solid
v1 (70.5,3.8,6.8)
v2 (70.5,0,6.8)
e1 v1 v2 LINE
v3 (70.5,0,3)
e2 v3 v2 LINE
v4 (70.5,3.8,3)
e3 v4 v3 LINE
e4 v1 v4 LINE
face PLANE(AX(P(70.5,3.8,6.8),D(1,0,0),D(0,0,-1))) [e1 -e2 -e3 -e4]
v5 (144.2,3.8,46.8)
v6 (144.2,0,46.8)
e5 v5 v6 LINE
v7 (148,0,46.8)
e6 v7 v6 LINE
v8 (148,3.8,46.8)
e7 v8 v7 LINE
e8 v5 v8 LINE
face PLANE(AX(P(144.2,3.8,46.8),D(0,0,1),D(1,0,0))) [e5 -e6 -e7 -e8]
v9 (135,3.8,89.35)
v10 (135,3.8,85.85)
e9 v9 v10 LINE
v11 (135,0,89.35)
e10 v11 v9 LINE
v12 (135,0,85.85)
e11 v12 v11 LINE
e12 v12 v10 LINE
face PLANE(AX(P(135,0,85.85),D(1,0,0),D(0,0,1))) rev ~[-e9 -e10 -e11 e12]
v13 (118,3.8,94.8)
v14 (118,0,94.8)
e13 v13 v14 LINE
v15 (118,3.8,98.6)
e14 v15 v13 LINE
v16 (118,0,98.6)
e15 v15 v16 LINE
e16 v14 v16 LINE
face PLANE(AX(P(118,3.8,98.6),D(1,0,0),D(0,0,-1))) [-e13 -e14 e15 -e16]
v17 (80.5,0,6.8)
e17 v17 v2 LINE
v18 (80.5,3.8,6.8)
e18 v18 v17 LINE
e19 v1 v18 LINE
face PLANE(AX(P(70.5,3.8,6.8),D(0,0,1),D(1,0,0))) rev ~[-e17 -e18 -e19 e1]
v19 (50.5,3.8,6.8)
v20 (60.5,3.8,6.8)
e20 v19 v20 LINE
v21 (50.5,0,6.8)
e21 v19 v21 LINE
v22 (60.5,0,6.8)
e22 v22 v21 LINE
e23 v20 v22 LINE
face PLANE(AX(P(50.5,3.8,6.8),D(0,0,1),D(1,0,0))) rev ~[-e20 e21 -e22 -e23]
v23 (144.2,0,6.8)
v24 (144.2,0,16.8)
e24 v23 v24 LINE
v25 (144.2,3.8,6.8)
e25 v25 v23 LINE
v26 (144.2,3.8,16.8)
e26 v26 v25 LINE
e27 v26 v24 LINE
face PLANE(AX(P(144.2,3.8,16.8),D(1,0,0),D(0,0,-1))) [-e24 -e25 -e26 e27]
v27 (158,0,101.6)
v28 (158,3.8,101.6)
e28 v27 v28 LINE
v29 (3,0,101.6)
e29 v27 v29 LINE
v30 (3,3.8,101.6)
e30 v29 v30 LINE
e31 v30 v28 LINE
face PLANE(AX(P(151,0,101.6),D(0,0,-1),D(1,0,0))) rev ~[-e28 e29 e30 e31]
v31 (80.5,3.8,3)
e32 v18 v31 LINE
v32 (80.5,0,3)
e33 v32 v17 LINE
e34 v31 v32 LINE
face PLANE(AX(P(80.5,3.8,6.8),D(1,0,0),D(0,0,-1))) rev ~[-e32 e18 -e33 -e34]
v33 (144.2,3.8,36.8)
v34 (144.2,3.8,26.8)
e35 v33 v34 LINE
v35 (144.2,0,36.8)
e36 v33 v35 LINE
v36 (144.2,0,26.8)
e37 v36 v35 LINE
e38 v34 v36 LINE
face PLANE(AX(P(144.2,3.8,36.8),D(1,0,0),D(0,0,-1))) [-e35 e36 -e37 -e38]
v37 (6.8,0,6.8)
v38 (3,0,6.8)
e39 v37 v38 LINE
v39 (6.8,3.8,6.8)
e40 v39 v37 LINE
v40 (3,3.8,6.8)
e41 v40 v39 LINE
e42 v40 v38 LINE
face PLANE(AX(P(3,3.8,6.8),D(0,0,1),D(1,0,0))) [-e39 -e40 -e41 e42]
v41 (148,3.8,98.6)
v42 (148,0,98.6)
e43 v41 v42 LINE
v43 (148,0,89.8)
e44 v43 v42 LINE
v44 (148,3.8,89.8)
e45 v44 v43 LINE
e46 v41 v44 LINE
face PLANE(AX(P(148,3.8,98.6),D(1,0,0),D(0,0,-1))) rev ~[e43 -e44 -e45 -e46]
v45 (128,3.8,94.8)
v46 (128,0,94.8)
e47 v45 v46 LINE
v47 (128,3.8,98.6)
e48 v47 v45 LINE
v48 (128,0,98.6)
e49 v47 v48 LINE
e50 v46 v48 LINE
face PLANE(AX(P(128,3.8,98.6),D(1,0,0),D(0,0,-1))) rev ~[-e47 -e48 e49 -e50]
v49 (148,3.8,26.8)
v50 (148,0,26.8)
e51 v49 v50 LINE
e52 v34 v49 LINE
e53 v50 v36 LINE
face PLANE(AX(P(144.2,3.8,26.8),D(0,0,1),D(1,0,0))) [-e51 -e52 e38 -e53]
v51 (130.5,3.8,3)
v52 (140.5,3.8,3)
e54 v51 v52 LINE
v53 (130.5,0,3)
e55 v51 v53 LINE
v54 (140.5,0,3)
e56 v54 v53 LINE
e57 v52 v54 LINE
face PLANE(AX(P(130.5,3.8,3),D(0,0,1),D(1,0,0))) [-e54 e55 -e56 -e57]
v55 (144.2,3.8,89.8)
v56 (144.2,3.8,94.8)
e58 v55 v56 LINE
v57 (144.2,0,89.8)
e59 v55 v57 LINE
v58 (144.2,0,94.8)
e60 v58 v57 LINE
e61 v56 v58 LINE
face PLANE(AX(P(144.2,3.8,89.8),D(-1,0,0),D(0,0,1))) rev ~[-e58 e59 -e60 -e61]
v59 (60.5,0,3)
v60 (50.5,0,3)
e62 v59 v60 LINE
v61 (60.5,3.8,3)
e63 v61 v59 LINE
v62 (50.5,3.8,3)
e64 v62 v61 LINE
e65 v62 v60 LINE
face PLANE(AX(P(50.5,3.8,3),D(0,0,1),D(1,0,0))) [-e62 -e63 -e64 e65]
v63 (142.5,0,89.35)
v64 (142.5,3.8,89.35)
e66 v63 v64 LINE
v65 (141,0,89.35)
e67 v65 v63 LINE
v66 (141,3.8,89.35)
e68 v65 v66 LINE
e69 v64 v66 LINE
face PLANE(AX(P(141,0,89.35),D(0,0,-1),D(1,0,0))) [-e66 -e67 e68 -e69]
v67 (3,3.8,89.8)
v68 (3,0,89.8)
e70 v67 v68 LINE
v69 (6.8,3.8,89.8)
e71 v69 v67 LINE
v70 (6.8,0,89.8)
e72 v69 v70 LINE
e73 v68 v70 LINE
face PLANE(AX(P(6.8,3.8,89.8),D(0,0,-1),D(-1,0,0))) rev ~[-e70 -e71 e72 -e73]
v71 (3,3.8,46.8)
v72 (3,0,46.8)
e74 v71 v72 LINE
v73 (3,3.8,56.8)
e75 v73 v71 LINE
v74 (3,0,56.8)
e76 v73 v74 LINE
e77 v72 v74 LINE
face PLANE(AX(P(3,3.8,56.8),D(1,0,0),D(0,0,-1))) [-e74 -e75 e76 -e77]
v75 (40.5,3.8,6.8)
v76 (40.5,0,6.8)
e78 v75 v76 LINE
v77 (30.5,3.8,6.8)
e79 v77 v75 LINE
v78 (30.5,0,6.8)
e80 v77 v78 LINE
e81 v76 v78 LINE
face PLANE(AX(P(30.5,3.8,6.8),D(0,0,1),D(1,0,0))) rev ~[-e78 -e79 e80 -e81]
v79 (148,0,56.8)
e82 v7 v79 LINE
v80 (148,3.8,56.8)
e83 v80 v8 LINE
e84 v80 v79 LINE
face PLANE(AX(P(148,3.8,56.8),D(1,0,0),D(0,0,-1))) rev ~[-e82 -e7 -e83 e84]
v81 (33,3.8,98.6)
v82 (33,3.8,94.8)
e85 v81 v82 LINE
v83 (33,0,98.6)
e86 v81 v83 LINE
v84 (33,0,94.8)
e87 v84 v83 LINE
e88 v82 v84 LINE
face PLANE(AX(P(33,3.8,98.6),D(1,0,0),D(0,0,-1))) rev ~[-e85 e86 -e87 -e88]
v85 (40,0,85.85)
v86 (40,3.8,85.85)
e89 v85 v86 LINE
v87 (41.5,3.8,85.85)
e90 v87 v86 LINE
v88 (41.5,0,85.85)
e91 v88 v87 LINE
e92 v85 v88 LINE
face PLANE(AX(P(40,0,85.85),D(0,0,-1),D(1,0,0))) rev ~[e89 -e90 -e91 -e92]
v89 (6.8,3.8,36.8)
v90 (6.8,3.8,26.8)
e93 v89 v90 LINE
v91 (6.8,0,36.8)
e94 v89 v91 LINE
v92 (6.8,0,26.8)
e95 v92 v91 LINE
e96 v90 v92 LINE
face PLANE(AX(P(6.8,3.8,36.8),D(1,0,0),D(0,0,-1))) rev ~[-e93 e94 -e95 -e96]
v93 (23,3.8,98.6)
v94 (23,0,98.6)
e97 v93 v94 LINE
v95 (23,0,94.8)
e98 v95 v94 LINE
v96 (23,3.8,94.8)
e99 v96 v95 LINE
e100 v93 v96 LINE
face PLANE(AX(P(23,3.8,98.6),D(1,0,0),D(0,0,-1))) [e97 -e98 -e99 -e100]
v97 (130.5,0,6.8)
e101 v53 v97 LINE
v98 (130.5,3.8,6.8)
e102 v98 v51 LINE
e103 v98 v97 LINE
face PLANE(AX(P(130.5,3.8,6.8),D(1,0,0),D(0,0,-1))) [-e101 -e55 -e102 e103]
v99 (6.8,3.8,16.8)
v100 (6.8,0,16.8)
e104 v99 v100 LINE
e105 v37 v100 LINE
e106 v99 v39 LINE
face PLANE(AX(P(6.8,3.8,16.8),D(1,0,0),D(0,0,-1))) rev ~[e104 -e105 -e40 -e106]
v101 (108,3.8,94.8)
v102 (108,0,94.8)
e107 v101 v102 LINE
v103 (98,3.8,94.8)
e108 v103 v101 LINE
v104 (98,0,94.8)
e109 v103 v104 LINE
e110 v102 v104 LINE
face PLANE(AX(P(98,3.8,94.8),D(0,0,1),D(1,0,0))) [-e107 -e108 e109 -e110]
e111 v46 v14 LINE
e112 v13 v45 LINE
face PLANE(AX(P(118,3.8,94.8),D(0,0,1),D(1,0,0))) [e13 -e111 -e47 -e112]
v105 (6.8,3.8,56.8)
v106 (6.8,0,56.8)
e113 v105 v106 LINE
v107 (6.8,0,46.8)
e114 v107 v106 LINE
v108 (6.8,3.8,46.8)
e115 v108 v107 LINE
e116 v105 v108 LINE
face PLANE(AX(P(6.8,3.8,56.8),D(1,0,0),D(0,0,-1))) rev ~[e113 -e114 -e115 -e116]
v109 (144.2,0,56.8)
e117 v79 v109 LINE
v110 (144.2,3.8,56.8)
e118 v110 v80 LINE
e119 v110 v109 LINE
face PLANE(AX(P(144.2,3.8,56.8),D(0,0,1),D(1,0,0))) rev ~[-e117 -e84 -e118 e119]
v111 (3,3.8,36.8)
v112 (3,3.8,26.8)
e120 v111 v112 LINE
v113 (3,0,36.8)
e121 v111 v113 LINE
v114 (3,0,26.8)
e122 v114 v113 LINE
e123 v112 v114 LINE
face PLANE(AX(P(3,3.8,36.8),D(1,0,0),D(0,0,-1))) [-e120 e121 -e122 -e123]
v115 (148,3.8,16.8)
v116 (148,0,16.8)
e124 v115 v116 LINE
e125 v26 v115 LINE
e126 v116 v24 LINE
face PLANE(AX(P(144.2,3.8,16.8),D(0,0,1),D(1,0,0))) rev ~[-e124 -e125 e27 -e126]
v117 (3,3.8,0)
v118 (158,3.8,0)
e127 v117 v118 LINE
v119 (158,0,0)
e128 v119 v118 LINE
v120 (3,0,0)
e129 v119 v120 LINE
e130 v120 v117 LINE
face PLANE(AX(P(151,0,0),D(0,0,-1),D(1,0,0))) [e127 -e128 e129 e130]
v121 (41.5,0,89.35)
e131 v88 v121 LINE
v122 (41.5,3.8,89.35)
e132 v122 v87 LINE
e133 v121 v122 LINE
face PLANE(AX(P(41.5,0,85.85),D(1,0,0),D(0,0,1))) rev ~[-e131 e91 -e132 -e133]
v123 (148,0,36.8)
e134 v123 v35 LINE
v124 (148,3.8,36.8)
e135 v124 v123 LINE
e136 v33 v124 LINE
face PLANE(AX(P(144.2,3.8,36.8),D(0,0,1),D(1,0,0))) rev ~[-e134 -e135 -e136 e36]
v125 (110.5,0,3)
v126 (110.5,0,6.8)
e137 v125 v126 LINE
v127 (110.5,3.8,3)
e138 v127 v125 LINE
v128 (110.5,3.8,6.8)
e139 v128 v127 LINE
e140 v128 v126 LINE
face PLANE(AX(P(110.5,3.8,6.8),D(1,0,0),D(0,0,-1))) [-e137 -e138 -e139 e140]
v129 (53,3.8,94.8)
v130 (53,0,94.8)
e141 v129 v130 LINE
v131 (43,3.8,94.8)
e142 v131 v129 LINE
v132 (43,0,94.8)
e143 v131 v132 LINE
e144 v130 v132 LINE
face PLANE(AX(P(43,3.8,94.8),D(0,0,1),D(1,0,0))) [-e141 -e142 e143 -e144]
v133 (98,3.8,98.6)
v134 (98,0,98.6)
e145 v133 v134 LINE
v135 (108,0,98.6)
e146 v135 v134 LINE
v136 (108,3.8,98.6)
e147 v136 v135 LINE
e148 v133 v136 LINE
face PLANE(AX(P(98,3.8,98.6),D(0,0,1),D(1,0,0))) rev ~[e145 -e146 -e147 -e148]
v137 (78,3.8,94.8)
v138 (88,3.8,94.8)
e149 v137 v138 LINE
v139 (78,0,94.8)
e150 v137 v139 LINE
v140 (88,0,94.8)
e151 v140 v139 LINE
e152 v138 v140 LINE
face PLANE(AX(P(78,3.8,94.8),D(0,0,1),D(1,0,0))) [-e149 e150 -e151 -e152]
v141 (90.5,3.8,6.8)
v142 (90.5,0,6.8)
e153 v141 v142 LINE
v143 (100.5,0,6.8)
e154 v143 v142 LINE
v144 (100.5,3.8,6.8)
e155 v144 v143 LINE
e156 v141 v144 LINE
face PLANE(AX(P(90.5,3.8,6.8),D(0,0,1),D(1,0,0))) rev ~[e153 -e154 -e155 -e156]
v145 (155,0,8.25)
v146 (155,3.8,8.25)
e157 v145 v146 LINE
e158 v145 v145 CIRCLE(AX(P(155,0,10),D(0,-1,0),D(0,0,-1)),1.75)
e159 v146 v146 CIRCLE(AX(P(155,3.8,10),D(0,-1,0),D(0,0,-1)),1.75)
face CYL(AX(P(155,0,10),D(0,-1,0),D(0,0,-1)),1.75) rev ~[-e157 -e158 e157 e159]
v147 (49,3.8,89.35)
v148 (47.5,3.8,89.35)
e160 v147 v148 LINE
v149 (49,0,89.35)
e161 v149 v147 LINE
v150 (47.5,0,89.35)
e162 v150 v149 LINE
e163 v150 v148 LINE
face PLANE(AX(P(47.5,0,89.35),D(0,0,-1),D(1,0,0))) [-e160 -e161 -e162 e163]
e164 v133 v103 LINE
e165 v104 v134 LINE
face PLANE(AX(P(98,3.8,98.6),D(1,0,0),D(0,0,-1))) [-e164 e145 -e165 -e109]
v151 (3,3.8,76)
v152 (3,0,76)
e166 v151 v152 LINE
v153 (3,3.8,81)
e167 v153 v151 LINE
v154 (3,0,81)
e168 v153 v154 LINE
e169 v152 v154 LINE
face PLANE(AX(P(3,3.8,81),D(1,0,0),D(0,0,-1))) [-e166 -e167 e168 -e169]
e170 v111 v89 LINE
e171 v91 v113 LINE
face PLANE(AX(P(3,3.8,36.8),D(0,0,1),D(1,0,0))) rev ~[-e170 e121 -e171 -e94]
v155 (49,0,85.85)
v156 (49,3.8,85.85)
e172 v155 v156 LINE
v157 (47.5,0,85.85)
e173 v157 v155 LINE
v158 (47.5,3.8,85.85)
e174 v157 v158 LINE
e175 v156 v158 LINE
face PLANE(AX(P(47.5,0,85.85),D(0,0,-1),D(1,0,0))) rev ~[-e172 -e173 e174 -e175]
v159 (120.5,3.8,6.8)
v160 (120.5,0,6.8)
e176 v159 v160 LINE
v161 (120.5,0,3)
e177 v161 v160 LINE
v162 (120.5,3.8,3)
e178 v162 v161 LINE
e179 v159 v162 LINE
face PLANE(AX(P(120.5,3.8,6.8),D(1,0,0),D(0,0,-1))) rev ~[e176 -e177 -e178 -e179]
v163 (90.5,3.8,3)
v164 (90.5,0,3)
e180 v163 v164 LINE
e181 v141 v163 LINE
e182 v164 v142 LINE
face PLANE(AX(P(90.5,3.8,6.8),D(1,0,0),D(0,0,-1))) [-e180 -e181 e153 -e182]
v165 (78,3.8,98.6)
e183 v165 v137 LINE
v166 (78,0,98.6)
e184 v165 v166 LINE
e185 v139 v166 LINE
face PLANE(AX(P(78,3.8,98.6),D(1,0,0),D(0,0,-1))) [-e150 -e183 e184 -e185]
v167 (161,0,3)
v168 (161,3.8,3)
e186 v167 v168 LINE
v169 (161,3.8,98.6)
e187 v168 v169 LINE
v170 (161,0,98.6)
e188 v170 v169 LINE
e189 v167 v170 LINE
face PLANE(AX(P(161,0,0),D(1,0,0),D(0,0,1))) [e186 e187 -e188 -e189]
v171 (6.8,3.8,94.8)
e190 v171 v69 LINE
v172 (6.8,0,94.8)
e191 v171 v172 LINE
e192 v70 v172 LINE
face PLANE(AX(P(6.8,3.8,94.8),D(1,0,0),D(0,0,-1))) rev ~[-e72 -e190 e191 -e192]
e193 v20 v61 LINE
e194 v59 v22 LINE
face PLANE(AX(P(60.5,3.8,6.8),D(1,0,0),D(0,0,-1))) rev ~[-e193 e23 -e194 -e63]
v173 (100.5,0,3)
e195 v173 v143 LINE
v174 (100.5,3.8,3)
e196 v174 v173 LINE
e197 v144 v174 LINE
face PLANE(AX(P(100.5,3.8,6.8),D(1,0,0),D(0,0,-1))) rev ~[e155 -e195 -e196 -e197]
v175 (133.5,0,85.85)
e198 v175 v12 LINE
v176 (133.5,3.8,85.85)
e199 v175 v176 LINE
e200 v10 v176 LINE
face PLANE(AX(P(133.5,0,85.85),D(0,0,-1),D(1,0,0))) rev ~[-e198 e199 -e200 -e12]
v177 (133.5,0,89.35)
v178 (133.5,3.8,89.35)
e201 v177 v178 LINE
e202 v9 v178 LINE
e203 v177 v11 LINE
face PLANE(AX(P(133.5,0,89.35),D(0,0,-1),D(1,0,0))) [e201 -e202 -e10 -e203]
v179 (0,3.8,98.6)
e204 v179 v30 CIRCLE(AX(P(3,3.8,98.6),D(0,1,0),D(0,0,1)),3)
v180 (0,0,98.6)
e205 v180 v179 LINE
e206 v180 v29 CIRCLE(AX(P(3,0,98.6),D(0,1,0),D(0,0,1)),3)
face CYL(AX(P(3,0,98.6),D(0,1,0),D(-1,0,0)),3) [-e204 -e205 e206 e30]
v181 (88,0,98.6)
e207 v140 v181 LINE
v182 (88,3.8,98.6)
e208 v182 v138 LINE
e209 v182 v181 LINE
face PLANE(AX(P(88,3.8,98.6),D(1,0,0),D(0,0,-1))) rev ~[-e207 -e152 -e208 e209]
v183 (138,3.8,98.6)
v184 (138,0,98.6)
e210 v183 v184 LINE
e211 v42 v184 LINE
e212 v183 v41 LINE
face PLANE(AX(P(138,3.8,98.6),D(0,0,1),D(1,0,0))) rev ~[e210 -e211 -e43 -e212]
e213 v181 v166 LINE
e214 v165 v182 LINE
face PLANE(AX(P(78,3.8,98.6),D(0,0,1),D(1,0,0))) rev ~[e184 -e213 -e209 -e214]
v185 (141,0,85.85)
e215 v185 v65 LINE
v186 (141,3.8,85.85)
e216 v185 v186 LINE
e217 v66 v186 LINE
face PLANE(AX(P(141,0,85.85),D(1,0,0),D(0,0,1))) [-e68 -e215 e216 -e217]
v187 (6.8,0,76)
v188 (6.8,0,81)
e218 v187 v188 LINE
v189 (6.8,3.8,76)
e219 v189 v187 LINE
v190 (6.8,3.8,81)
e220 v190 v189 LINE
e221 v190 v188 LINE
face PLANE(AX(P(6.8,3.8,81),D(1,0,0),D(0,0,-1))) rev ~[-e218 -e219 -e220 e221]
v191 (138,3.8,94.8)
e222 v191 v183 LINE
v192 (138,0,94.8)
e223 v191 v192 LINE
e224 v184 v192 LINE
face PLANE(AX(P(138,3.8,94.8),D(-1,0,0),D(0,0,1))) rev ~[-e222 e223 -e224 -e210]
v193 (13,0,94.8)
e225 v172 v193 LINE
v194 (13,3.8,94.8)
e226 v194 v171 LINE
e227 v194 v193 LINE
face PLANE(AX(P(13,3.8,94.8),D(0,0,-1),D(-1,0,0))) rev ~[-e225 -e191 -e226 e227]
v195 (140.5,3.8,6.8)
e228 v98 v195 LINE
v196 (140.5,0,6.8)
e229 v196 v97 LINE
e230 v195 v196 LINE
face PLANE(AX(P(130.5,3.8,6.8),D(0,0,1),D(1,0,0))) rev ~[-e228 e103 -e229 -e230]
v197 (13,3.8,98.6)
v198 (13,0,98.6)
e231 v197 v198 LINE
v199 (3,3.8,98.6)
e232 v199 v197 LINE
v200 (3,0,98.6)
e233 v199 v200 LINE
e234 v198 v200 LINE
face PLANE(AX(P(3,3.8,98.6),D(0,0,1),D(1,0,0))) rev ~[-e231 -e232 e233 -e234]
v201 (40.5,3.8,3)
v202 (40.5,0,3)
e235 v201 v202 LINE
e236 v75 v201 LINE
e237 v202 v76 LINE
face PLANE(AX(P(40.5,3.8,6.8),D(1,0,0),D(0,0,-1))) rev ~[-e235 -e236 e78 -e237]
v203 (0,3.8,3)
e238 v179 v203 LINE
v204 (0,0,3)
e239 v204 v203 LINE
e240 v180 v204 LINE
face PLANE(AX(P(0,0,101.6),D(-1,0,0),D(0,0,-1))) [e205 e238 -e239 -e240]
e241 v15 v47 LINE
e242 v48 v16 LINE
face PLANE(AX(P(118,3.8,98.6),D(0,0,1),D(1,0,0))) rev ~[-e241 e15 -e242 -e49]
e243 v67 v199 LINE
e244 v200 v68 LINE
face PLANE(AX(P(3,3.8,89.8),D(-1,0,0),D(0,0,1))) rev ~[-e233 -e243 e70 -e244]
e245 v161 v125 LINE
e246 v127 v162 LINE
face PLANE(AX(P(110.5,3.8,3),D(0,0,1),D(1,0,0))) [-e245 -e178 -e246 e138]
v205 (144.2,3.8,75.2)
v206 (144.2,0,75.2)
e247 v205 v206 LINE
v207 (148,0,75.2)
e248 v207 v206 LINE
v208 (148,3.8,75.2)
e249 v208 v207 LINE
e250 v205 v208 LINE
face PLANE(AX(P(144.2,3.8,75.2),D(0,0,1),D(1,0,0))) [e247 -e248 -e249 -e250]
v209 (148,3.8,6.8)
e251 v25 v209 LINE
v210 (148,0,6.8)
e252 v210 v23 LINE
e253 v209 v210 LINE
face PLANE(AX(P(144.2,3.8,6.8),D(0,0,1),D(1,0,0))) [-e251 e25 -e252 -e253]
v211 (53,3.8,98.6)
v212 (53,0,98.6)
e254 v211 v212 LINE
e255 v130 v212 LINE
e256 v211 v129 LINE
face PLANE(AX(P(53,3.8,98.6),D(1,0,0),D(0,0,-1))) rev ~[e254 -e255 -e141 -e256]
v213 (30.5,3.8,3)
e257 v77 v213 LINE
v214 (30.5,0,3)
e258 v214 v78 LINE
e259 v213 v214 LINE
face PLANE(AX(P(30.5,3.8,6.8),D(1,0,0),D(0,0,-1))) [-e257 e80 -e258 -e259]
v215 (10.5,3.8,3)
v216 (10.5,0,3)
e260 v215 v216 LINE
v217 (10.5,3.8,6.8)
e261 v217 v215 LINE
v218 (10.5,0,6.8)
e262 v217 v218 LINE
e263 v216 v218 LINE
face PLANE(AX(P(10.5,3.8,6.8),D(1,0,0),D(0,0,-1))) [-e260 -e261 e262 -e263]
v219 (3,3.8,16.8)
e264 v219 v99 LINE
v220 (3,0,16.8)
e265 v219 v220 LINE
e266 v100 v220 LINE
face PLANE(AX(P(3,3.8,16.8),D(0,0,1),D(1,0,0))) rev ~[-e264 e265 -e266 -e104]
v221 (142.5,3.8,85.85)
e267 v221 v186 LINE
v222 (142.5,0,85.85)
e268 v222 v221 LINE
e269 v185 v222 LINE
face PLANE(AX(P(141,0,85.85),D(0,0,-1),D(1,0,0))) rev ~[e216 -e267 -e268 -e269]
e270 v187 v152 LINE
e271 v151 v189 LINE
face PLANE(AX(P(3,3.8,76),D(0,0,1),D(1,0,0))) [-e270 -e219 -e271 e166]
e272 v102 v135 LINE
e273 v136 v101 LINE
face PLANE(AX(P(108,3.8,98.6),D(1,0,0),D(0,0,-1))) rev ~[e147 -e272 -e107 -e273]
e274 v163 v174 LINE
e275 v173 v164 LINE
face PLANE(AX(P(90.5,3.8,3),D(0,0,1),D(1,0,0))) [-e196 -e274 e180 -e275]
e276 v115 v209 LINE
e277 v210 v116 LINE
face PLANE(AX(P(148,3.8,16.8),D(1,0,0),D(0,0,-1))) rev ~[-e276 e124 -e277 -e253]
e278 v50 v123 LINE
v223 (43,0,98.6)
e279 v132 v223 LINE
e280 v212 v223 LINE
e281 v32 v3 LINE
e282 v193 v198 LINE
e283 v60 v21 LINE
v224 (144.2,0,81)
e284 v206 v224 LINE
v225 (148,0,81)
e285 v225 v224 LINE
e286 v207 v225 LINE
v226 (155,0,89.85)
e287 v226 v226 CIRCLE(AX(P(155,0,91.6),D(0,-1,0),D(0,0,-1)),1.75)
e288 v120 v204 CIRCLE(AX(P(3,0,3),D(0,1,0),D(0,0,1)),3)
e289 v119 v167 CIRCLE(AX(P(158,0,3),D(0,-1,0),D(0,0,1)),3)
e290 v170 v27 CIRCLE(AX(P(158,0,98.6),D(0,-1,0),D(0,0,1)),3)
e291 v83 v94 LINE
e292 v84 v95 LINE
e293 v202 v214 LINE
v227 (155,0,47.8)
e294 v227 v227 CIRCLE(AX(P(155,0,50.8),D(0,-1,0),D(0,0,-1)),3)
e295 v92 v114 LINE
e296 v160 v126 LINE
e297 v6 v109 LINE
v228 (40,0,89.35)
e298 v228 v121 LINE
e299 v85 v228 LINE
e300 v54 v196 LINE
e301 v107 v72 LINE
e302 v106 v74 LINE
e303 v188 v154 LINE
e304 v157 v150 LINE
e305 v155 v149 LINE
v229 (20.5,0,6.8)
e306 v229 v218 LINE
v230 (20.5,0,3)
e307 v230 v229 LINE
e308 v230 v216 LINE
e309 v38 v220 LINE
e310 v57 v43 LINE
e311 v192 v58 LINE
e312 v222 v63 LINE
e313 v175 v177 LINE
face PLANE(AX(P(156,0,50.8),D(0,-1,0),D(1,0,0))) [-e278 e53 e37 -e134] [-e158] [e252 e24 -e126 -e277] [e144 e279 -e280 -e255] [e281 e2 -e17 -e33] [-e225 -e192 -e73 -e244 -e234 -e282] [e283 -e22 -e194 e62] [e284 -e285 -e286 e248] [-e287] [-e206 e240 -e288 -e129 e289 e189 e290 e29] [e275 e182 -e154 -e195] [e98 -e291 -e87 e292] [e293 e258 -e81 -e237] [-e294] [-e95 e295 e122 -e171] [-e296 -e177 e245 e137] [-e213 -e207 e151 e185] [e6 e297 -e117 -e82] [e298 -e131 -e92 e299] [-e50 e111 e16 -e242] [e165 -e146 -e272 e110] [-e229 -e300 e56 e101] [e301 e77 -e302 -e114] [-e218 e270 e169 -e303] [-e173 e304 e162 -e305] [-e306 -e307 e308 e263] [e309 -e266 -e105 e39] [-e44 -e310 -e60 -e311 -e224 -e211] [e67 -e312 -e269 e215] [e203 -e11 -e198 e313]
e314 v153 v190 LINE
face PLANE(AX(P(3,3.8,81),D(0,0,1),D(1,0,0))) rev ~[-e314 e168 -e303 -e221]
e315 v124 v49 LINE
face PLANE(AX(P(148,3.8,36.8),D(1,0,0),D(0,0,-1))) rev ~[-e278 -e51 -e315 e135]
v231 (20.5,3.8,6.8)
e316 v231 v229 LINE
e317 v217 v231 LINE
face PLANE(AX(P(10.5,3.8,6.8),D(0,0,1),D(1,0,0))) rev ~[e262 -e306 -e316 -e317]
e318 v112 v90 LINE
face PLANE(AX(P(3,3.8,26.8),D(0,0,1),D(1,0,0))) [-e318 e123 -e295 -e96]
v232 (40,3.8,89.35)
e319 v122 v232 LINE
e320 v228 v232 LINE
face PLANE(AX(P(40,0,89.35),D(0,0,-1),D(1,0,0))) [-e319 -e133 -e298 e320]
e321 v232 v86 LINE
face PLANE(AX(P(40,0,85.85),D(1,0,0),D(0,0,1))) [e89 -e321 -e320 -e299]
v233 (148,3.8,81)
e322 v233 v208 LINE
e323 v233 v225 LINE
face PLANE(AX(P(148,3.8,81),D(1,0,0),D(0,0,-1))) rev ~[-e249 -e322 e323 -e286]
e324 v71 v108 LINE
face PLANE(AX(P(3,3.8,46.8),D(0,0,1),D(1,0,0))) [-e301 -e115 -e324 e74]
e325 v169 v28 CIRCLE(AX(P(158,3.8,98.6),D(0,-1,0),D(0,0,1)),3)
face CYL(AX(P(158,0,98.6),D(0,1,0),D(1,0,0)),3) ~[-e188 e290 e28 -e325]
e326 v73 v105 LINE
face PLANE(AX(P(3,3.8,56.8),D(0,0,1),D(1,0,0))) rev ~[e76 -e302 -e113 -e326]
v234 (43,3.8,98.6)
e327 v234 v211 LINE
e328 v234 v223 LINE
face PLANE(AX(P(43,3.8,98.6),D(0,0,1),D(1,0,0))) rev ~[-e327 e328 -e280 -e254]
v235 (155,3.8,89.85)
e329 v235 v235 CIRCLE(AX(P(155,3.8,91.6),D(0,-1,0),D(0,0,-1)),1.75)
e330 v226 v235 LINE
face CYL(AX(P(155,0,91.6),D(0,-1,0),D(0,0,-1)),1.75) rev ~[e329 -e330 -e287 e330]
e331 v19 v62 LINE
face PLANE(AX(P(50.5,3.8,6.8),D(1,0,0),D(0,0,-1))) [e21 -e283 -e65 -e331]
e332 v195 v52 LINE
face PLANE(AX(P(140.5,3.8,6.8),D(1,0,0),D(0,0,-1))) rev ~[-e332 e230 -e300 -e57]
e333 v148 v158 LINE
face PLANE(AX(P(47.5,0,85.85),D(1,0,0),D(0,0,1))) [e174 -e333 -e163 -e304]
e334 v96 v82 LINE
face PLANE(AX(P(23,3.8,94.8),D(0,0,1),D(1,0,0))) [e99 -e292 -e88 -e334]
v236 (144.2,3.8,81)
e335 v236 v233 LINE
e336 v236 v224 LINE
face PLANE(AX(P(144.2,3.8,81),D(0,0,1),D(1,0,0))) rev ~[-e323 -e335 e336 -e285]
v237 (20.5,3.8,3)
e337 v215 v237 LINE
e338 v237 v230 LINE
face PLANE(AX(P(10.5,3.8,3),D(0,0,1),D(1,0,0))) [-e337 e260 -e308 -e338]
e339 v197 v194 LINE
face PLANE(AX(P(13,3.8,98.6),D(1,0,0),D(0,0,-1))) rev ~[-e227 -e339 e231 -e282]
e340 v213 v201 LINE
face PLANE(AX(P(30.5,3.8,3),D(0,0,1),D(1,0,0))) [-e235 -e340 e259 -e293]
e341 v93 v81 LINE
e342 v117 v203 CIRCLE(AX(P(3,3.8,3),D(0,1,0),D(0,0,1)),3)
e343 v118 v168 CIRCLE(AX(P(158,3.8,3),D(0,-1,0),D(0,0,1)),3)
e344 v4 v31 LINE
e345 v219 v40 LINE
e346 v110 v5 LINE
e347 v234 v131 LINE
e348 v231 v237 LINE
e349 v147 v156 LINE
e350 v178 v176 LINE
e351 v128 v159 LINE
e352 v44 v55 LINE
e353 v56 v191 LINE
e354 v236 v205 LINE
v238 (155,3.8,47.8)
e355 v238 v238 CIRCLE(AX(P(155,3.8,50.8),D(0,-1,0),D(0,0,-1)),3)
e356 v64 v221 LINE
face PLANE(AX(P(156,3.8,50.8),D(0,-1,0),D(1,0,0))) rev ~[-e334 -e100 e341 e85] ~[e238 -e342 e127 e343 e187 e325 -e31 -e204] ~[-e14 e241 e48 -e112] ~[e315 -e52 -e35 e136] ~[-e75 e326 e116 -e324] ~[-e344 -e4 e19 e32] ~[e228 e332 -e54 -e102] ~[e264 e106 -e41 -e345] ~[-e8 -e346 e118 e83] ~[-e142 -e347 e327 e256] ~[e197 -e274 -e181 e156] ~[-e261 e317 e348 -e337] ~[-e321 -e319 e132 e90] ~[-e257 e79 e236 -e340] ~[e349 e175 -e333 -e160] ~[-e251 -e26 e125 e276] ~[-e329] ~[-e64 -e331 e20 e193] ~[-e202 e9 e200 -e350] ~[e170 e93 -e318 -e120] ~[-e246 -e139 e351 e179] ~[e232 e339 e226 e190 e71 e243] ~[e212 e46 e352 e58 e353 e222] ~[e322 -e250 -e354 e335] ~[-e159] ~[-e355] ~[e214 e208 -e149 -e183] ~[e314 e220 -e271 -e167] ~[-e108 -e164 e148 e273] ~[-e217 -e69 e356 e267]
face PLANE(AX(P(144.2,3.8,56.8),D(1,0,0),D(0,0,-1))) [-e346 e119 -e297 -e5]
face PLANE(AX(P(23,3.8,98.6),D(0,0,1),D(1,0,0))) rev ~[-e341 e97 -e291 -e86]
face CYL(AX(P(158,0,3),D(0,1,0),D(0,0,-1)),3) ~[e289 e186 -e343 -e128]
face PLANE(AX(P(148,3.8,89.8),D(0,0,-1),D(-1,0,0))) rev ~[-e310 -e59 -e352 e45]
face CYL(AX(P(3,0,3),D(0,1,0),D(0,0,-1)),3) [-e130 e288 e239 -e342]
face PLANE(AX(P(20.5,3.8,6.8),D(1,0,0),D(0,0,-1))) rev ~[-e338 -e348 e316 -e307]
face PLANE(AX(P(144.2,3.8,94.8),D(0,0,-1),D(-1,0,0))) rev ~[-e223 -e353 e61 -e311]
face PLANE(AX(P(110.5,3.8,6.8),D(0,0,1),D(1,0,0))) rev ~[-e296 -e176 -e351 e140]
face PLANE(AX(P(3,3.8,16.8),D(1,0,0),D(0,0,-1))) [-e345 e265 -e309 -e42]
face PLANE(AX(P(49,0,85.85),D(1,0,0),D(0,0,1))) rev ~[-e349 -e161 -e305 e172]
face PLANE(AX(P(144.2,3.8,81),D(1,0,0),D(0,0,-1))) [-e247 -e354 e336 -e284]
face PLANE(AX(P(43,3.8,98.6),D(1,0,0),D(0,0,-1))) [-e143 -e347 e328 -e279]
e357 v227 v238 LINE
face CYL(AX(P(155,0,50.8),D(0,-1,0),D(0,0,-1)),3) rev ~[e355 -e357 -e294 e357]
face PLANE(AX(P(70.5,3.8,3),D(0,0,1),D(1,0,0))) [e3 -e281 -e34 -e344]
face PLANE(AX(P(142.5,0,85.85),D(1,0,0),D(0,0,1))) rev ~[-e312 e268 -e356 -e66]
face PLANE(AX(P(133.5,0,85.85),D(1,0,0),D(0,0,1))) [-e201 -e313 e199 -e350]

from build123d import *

# Parameters (mm, degrees)
SKETCH1_W           = 151
SKETCH1_H           = 101.6
BOSS_EXTRUDE1_DEPTH = 3.8
SKETCH3_W           = 1.5
SKETCH3_H           = 3.5
CUT_EXTRUDE1_DEPTH  = 183.038457475
SKETCH4_W           = 10
SKETCH4_H           = 101.6
BOSS_EXTRUDE2_DEPTH = 3.8
SKETCH5_R           = 3
SKETCH5_R_2         = 1.75
CUT_EXTRUDE2_DEPTH  = 191.415335517
FILLET1_R           = 3
FILLET2_R           = 3
SKETCH6_W           = 3.8
SKETCH6_H           = 5.8
SKETCH6_H_2         = 10
SKETCH6_W_2         = 10
SKETCH6_H_3         = 3.8
SKETCH6_H_4         = 5
CUT_EXTRUDE3_DEPTH  = 191.415335517


with BuildPart() as part:
    # Sketch1 → Boss-Extrude1 (new body)
    with BuildSketch(Plane(origin=(0, 0, 0), x_dir=(1, 0, 0), z_dir=(0, 1, 0))):
        with Locations((75.5, -50.8)):
            Rectangle(SKETCH1_W, SKETCH1_H)
    extrude(amount=BOSS_EXTRUDE1_DEPTH)

    # Sketch3 → Cut-Extrude1 (cut, through all)
    with BuildSketch(Plane.XZ):
        with Locations((40.75, 87.6)):
            Rectangle(SKETCH3_W, SKETCH3_H)
        with Locations((48.25, 87.6)):
            Rectangle(SKETCH3_W, SKETCH3_H)
        with Locations((134.25, 87.6)):
            Rectangle(SKETCH3_W, SKETCH3_H)
        with Locations((141.75, 87.6)):
            Rectangle(SKETCH3_W, SKETCH3_H)
    extrude(amount=-CUT_EXTRUDE1_DEPTH, mode=Mode.SUBTRACT)

    # Sketch4 → Boss-Extrude2 (add, through all)
    with BuildSketch(Plane.XZ):
        with Locations((156, 50.8)):
            Rectangle(SKETCH4_W, SKETCH4_H)
    extrude(amount=-BOSS_EXTRUDE2_DEPTH)

    # Sketch5 → Cut-Extrude2 (cut, through all)
    with BuildSketch(Plane.XZ):
        with Locations(Location((155, 50.8, 0), (0, 0, 270))):
            Circle(SKETCH5_R)
        with Locations(Location((155, 91.6, 0), (0, 0, 270))):
            Circle(SKETCH5_R_2)
        with Locations(Location((155, 10, 0), (0, 0, 270))):
            Circle(SKETCH5_R_2)
    extrude(amount=-CUT_EXTRUDE2_DEPTH, mode=Mode.SUBTRACT)

    # Fillet1
    fillet1_edges = [part.edges().sort_by_distance(p)[0] for p in [
        (0, 1.9, 0),
        (0, 1.9, 101.6),
    ]]
    fillet(fillet1_edges, radius=FILLET1_R)

    # Fillet2
    fillet2_edges = [part.edges().sort_by_distance(p)[0] for p in [
        (161, 1.9, 101.6),
        (161, 1.9, 0),
    ]]
    fillet(fillet2_edges, radius=FILLET2_R)

    # Sketch6 → Cut-Extrude3 (cut, through all)
    with BuildSketch(Plane(origin=(0, 3.8, 0), x_dir=(1, 0, 0), z_dir=(0, 1, 0))):
        Polygon((148, -94), (148, -89.8), (144.2, -89.8), (144.2, -94.8), (138, -94.8), (138, -98.6), (148, -98.6), align=None)
        with Locations((146.1, -78.1)):
            Rectangle(SKETCH6_W, SKETCH6_H)
        with Locations((146.1, -51.8)):
            Rectangle(SKETCH6_W, SKETCH6_H_2)
        with Locations((146.1, -31.8)):
            Rectangle(SKETCH6_W, SKETCH6_H_2)
        with Locations((146.1, -11.8)):
            Rectangle(SKETCH6_W, SKETCH6_H_2)
        with Locations((135.5, -4.9)):
            Rectangle(SKETCH6_W_2, SKETCH6_H_3)
        with Locations((115.5, -4.9)):
            Rectangle(SKETCH6_W_2, SKETCH6_H_3)
        with Locations((95.5, -4.9)):
            Rectangle(SKETCH6_W_2, SKETCH6_H_3)
        with Locations((75.5, -4.9)):
            Rectangle(SKETCH6_W_2, SKETCH6_H_3)
        with Locations((55.5, -4.9)):
            Rectangle(SKETCH6_W_2, SKETCH6_H_3)
        with Locations((35.5, -4.9)):
            Rectangle(SKETCH6_W_2, SKETCH6_H_3)
        with Locations((15.5, -4.9)):
            Rectangle(SKETCH6_W_2, SKETCH6_H_3)
        with Locations((4.9, -11.8)):
            Rectangle(SKETCH6_W, SKETCH6_H_2)
        with Locations((4.9, -31.8)):
            Rectangle(SKETCH6_W, SKETCH6_H_2)
        with Locations((4.9, -51.8)):
            Rectangle(SKETCH6_W, SKETCH6_H_2)
        with Locations((4.9, -78.5)):
            Rectangle(SKETCH6_W, SKETCH6_H_4)
        Polygon((6.8, -94.8), (6.8, -89.8), (3, -89.8), (3, -94), (3, -98.6), (13, -98.6), (13, -94.8), align=None)
        with Locations((28, -96.7)):
            Rectangle(SKETCH6_W_2, SKETCH6_H_3)
        with Locations((48, -96.7)):
            Rectangle(SKETCH6_W_2, SKETCH6_H_3)
        with Locations((83, -96.7)):
            Rectangle(SKETCH6_W_2, SKETCH6_H_3)
        with Locations((103, -96.7)):
            Rectangle(SKETCH6_W_2, SKETCH6_H_3)
        with Locations((123, -96.7)):
            Rectangle(SKETCH6_W_2, SKETCH6_H_3)
    extrude(amount=-CUT_EXTRUDE3_DEPTH, mode=Mode.SUBTRACT)


solid = part.part
